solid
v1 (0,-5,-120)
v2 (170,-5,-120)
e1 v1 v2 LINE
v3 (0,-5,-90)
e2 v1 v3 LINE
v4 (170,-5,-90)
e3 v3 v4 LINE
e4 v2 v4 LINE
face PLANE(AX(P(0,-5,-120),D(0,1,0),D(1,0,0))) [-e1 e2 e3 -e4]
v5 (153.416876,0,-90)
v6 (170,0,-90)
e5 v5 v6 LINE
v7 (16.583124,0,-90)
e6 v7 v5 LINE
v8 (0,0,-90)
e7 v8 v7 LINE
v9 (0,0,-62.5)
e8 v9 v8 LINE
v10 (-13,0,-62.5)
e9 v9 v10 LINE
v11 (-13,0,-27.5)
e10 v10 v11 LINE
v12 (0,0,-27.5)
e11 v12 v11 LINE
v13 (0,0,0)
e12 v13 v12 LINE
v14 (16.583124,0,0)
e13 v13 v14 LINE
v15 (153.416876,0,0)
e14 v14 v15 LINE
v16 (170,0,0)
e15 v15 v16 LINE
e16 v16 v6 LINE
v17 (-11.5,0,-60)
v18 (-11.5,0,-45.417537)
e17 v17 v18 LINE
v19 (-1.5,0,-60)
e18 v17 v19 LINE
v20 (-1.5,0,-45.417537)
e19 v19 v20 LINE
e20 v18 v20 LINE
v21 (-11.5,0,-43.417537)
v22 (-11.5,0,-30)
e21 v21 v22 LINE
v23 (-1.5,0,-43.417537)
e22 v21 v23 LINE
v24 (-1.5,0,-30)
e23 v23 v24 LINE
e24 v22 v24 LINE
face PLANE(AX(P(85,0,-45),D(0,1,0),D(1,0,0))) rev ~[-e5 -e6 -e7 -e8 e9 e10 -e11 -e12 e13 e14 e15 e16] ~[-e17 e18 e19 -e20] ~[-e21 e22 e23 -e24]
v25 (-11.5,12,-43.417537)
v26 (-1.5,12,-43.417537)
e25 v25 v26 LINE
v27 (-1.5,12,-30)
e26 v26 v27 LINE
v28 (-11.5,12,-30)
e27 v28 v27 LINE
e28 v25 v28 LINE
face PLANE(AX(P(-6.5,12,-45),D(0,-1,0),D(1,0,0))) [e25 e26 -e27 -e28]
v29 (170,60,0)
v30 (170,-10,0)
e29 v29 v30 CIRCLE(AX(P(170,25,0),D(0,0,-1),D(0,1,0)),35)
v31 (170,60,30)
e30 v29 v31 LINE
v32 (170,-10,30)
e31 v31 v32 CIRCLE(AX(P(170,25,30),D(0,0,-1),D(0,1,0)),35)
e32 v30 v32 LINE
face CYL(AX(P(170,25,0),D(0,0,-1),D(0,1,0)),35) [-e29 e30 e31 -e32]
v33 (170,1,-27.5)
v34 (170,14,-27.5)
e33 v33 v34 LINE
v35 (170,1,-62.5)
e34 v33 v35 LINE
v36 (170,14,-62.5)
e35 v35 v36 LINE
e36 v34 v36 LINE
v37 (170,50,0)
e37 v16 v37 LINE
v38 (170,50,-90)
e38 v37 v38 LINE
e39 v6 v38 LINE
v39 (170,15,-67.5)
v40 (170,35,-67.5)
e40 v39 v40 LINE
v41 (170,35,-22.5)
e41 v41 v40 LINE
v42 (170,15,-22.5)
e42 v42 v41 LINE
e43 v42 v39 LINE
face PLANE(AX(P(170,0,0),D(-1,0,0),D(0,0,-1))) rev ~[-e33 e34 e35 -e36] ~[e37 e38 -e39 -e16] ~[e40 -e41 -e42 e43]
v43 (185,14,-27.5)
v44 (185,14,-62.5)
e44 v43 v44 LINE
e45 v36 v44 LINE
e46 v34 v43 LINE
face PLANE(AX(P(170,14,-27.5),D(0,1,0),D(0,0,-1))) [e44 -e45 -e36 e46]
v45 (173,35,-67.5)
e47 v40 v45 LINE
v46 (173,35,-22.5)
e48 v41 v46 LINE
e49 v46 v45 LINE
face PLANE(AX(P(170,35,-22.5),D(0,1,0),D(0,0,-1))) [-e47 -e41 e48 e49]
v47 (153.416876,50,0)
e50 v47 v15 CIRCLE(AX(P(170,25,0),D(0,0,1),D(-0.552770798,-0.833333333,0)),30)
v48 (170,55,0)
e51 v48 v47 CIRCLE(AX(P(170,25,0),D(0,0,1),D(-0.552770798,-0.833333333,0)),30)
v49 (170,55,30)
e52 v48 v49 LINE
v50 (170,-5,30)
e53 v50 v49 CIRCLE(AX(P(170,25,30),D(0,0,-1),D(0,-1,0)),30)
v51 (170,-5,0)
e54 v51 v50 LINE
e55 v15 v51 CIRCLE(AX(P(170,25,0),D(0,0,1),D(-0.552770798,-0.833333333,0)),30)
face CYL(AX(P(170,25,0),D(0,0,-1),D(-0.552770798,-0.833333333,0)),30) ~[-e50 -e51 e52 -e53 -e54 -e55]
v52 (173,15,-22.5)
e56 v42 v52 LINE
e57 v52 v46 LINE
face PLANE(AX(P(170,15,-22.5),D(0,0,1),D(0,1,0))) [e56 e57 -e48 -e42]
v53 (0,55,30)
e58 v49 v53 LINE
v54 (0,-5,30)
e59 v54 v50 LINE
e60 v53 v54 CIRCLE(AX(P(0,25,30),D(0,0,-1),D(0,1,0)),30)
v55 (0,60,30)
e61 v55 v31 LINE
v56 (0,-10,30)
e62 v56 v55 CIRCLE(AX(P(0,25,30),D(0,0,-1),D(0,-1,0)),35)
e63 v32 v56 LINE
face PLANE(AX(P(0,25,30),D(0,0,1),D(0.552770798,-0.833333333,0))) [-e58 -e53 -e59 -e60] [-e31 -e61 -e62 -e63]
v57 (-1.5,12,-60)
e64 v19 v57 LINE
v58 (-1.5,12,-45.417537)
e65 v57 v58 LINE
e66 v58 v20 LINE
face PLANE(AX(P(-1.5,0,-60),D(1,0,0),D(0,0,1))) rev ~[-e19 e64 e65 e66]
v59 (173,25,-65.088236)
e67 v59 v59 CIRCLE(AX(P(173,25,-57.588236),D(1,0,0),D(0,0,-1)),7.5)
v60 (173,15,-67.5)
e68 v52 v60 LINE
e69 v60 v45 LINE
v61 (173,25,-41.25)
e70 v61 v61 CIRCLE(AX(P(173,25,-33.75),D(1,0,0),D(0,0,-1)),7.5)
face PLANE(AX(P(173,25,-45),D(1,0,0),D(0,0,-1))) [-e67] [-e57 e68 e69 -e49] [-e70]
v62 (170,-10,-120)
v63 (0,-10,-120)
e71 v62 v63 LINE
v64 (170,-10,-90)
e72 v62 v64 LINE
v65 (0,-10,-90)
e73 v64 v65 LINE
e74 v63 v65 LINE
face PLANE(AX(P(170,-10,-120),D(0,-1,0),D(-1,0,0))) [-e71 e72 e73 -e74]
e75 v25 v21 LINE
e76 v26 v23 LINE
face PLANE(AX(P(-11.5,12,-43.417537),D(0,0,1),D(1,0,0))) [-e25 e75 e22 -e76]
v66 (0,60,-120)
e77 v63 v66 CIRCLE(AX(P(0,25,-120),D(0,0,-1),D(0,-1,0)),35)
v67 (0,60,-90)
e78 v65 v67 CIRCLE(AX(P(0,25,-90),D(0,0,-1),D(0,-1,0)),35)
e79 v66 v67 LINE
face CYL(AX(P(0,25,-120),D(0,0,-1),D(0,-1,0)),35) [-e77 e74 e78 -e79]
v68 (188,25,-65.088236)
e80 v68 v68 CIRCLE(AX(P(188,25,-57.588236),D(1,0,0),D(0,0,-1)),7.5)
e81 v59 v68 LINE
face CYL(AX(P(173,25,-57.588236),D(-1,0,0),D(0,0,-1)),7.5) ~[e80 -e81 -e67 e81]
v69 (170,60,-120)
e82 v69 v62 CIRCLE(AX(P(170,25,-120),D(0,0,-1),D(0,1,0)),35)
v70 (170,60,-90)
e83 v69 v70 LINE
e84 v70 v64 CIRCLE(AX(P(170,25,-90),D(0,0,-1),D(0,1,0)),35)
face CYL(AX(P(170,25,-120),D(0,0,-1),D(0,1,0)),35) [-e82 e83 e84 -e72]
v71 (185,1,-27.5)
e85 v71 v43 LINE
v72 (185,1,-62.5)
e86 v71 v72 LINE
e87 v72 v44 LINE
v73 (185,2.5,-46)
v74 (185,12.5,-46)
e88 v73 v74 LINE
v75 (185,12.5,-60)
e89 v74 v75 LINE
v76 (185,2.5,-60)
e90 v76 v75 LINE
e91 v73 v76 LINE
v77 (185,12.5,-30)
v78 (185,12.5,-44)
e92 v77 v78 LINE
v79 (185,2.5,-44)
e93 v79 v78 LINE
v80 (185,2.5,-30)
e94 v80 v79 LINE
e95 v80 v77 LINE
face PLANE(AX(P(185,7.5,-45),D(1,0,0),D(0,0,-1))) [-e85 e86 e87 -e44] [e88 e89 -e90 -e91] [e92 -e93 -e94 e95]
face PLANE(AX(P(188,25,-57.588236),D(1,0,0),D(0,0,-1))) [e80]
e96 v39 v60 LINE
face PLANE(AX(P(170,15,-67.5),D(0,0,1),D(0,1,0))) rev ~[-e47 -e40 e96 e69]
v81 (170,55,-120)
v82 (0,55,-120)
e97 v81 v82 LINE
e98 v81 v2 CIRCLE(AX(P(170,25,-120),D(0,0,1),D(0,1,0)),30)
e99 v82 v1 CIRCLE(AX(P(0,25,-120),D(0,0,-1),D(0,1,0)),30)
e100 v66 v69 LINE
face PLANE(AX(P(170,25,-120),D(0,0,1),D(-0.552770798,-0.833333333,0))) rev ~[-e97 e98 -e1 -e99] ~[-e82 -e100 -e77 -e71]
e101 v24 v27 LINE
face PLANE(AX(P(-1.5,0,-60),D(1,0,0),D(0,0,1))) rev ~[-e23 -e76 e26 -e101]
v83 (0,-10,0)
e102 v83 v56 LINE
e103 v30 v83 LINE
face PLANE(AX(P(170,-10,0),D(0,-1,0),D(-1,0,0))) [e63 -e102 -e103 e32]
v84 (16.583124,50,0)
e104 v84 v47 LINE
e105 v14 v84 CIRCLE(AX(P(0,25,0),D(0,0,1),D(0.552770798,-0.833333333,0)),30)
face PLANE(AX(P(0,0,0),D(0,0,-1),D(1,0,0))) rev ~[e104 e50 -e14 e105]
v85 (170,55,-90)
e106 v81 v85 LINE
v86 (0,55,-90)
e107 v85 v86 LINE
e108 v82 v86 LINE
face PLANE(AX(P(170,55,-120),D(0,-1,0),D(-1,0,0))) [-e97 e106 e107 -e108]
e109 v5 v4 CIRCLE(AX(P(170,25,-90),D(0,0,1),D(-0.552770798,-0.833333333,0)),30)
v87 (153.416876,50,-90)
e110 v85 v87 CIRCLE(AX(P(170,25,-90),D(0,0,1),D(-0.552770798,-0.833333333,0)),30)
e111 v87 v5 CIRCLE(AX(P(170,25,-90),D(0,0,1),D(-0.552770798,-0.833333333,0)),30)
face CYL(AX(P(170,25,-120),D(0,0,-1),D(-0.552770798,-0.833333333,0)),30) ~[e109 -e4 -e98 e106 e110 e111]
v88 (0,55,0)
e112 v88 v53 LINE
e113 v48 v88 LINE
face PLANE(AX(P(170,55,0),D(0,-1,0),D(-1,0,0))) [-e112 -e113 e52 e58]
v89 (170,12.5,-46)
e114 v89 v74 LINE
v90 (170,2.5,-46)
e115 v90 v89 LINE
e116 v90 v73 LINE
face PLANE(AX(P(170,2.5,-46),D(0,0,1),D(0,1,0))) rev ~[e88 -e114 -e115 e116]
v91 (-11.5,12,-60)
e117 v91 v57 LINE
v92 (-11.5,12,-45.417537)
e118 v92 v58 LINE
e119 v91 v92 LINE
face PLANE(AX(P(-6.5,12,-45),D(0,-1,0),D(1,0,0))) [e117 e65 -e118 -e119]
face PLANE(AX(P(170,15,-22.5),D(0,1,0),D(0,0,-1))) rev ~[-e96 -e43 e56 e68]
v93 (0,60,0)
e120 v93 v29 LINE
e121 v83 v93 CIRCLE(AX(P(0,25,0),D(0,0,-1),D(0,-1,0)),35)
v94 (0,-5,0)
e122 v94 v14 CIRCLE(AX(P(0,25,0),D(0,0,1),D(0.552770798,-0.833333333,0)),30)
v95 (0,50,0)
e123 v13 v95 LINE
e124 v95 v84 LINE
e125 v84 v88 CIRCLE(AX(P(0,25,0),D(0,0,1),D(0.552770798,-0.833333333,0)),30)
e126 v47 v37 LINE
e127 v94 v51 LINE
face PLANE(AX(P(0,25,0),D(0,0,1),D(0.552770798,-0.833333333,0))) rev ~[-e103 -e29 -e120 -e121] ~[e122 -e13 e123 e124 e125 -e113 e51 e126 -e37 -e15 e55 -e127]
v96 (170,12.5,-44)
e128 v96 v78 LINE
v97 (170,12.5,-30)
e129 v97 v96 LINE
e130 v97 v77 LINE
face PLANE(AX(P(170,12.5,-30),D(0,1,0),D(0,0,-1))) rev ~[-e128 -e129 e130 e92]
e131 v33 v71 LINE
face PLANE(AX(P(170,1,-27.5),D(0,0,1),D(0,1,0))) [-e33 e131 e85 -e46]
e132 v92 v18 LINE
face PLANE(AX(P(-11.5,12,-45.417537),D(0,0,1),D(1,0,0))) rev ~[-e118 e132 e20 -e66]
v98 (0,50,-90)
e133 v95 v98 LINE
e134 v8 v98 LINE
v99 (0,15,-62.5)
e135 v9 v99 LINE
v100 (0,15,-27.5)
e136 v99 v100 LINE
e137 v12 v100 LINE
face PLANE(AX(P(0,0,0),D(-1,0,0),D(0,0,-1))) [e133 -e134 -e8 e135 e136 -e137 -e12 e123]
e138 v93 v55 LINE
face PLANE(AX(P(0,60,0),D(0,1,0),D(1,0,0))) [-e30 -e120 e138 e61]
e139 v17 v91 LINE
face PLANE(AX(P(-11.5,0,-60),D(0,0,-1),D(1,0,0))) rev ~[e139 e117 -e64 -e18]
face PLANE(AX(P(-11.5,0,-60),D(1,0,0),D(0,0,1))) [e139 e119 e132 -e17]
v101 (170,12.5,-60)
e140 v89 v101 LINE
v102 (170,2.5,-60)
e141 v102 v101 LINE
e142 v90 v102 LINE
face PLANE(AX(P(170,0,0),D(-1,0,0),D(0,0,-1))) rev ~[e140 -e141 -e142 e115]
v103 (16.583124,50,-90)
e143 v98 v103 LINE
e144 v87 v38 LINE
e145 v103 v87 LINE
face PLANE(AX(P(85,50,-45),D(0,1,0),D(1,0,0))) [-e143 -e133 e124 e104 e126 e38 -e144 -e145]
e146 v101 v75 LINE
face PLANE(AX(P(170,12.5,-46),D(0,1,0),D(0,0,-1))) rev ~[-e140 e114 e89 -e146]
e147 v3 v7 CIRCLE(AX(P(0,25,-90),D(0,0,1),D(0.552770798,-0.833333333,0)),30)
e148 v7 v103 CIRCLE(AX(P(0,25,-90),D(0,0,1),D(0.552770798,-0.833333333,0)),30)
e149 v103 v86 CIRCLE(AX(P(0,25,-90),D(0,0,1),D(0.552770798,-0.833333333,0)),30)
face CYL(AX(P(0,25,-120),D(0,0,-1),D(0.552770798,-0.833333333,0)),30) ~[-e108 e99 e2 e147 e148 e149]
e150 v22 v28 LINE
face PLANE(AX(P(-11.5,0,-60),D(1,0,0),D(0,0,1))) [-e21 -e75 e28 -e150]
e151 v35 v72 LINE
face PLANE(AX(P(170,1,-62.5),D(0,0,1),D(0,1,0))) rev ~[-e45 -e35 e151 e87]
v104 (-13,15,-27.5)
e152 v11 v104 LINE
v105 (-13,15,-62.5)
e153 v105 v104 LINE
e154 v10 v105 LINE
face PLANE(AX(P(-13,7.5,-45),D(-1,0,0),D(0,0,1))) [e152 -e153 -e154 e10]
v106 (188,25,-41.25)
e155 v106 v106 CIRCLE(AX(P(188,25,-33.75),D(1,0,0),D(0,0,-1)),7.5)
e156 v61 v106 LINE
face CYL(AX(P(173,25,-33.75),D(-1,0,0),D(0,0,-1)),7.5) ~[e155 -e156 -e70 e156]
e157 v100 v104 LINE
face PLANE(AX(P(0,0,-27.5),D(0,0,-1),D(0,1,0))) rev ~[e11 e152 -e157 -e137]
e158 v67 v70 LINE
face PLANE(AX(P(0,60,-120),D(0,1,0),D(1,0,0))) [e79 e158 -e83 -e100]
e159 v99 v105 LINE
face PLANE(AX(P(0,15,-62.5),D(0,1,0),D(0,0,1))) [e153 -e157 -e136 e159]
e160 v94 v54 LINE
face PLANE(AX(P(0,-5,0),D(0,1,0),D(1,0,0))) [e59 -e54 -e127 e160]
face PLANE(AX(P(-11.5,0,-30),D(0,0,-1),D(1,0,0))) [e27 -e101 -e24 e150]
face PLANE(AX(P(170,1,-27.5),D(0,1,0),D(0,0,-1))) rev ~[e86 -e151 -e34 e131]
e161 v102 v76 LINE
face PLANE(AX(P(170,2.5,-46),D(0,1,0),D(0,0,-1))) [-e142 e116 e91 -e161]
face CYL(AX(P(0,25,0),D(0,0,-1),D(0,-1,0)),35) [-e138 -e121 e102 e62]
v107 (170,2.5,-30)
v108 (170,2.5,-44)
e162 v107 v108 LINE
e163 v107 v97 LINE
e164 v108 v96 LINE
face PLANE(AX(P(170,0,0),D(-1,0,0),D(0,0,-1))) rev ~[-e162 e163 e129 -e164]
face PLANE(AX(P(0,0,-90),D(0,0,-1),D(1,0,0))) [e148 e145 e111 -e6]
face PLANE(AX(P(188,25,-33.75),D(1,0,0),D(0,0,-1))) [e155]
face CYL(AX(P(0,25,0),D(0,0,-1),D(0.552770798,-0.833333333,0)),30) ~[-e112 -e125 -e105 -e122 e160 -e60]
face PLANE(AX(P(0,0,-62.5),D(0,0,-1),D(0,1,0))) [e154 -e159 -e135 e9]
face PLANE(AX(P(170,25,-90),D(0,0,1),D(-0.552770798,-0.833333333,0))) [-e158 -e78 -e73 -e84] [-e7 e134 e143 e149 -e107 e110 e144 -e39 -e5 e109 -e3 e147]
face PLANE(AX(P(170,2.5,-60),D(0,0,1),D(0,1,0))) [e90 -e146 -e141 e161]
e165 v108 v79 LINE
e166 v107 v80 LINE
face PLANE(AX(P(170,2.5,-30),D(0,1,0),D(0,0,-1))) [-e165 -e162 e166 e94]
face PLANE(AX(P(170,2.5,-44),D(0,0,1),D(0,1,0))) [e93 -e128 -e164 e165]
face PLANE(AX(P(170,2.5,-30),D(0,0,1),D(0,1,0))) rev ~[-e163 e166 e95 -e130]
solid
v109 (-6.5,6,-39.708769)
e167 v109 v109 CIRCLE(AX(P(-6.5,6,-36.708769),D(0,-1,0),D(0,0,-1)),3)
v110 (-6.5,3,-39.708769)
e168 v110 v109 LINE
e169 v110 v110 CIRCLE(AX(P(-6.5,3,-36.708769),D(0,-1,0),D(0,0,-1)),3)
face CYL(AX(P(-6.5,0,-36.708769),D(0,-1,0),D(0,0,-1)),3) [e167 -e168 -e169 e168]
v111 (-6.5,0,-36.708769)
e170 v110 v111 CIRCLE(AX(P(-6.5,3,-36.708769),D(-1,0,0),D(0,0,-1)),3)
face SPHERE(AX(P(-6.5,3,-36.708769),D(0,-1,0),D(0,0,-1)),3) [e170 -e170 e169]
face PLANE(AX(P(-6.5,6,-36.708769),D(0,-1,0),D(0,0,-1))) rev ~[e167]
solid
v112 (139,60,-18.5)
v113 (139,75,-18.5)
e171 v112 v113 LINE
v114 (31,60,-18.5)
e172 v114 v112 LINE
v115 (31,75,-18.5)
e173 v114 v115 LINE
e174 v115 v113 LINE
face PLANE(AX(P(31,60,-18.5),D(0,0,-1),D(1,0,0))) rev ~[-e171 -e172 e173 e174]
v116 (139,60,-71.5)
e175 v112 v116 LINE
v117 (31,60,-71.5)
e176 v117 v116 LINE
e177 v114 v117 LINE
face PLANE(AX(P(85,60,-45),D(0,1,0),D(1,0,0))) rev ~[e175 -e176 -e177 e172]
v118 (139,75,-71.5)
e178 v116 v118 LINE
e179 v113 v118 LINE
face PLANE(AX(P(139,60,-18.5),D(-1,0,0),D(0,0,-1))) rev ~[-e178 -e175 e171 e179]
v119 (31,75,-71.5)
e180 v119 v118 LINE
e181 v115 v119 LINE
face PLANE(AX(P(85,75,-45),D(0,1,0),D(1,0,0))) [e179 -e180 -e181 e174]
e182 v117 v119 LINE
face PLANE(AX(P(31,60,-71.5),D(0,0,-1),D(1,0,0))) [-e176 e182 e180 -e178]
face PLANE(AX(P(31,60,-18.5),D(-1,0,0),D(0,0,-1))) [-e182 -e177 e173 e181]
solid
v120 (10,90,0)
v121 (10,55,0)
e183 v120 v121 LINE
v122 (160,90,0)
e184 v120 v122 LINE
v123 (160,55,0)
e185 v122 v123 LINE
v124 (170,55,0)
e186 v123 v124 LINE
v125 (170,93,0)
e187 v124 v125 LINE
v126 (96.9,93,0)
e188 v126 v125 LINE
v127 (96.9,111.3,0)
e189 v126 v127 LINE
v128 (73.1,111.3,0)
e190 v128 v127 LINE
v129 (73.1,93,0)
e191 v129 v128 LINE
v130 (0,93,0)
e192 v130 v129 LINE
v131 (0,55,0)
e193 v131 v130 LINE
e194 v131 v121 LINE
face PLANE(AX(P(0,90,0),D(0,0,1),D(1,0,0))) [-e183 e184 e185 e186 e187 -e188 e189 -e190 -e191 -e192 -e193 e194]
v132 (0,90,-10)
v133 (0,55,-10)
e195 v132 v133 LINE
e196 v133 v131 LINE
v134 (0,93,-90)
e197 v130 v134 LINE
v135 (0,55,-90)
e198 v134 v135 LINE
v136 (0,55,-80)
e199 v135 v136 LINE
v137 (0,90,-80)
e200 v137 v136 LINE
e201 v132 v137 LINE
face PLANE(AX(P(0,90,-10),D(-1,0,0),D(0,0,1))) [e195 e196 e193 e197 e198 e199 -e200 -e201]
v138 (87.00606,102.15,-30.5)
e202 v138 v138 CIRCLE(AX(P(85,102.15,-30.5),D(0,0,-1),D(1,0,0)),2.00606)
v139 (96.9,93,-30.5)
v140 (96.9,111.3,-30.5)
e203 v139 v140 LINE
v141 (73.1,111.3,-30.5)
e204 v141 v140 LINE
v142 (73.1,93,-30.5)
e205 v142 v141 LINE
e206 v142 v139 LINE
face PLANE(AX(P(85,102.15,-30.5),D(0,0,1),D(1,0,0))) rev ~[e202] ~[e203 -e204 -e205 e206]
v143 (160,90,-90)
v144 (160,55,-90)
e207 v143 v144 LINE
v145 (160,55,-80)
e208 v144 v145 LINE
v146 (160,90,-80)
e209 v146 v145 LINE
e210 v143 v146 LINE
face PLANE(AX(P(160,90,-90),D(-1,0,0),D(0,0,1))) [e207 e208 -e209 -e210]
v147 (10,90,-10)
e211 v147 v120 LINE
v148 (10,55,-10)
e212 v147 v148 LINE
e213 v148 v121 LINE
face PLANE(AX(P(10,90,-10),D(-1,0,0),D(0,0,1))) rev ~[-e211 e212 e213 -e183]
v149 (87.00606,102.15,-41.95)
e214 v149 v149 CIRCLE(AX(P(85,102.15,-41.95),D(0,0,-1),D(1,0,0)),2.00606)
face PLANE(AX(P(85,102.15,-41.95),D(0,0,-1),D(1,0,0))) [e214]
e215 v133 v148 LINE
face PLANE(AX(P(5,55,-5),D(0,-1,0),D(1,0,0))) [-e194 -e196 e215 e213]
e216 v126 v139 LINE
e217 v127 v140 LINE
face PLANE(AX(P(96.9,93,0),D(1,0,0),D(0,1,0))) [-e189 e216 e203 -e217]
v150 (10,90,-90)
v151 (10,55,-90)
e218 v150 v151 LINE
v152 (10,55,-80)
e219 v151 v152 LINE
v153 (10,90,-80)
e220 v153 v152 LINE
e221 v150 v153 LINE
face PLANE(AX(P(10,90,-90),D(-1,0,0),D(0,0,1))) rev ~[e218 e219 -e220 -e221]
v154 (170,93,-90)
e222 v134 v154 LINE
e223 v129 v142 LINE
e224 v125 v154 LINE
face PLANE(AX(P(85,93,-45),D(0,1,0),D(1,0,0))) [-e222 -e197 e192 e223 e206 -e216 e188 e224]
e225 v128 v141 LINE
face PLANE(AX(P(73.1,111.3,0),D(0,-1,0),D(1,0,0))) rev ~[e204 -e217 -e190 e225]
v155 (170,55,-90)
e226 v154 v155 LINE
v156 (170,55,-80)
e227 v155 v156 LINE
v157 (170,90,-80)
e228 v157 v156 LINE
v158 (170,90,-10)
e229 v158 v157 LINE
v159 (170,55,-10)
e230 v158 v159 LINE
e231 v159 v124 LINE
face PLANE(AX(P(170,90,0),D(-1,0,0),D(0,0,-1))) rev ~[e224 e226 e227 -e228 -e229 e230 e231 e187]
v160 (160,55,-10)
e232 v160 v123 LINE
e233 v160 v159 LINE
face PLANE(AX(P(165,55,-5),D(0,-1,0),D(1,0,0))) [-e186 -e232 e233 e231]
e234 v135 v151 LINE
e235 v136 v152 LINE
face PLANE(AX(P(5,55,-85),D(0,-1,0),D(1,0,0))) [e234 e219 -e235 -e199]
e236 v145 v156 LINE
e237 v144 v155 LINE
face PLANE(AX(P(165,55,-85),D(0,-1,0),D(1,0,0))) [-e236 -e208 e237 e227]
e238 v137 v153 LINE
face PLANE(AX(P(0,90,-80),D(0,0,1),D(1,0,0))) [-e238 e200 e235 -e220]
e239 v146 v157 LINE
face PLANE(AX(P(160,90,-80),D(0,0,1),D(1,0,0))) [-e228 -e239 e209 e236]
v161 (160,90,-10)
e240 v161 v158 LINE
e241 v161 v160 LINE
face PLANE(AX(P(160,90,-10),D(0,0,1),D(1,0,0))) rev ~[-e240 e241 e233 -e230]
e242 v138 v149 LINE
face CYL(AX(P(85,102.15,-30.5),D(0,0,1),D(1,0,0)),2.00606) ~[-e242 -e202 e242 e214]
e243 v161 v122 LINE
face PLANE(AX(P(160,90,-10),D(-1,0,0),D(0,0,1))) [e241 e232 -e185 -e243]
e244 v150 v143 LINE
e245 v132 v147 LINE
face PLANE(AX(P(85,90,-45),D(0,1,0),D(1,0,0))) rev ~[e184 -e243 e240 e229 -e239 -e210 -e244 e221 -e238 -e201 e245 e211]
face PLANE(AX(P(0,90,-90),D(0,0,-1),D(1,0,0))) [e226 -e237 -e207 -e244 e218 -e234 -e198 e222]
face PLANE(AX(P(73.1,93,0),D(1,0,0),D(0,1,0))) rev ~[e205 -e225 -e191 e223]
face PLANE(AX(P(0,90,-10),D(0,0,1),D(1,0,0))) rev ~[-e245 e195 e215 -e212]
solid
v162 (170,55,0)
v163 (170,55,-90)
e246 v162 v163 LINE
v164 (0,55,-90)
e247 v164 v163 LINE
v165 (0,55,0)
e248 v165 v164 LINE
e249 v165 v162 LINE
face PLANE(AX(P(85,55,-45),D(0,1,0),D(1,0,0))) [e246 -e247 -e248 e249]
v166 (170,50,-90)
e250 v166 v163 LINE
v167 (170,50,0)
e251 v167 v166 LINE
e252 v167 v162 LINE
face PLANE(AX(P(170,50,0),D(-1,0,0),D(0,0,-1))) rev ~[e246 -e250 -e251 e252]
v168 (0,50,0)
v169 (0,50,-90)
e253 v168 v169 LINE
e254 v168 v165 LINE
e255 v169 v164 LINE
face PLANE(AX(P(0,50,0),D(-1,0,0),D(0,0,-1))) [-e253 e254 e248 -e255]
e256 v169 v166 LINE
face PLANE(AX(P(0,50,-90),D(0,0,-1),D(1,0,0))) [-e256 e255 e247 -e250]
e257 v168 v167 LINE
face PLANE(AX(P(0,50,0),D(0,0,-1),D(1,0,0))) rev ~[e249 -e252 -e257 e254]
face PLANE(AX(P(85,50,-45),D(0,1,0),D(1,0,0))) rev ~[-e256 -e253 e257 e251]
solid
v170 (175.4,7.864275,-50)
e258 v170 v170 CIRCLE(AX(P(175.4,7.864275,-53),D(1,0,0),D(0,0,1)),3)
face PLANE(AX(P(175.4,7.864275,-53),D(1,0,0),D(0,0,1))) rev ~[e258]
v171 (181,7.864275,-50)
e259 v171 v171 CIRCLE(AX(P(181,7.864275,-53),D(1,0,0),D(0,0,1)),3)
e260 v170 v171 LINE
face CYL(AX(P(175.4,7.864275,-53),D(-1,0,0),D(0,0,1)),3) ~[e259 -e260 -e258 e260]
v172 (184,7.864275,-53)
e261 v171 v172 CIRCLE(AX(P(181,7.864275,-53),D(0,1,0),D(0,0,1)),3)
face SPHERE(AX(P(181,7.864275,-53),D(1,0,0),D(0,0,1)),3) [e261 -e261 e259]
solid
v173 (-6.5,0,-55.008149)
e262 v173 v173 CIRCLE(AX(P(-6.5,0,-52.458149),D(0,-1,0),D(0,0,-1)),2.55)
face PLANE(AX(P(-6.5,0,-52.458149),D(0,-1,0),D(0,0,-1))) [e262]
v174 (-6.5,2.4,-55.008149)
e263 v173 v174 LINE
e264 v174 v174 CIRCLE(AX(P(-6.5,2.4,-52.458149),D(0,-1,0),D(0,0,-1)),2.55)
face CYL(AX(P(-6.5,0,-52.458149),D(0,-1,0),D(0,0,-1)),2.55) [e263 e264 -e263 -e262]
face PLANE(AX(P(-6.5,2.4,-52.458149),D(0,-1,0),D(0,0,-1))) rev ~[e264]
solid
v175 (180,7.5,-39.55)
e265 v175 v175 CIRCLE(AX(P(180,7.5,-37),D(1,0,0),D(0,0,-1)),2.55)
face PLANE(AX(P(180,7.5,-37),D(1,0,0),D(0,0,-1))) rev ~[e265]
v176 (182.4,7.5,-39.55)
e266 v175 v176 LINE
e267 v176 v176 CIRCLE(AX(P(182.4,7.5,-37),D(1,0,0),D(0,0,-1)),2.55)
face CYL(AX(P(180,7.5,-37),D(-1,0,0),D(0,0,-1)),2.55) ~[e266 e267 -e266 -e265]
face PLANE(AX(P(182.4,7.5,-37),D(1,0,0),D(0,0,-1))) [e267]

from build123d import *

# Parameters (mm, degrees)
SKETCH1_W            = 170
SKETCH1_H            = 90
BOSS_EXTRUDE1_DEPTH  = 50
SKETCH2_R            = 30
BOSS_EXTRUDE2_DEPTH  = 30
LPATTERN1_COUNT      = 2
LPATTERN1_PITCH      = 120
BOSS_EXTRUDE3_START  = -30
BOSS_EXTRUDE3_DEPTH  = 30
LPATTERN2_COUNT      = 2
LPATTERN2_PITCH      = 120
SKETCH4_W            = 170
SKETCH4_H            = 90
BOSS_EXTRUDE6_DEPTH  = 5
SKETCH6_W            = 108
SKETCH6_H            = 53
BOSS_EXTRUDE7_DEPTH  = 15
SKETCH7_W            = 170
SKETCH7_H            = 90
BOSS_EXTRUDE8_DEPTH  = 3
SKETCH8_W            = 23.8
SKETCH8_H            = 18.3
BOSS_EXTRUDE9_DEPTH  = 30.5
SKETCH9_R            = 2.00605959
BOSS_EXTRUDE10_DEPTH = 11.45
SKETCH10_W           = 45
SKETCH10_H           = 20
BOSS_EXTRUDE11_DEPTH = 3
SKETCH11_R           = 7.5
BOSS_EXTRUDE12_DEPTH = 15
SKETCH12_W           = 35
SKETCH12_H           = 13
SKETCH12_W_2         = 14
SKETCH12_H_2         = 10
BOSS_EXTRUDE13_DEPTH = 15
SKETCH13_R           = 2.55
BOSS_EXTRUDE14_DEPTH = 2.4
SKETCH14_R           = 3
BOSS_EXTRUDE15_DEPTH = 8.6
FILLET1_R            = 3
SKETCH15_W           = 35
SKETCH15_H           = 15
BOSS_EXTRUDE16_DEPTH = 13
SKETCH17_W           = 10
SKETCH17_H           = 30
CUT_EXTRUDE1_DEPTH   = 12
SKETCH18_W           = 10
SKETCH18_H           = 2
BOSS_EXTRUDE17_DEPTH = 12
SKETCH20_W           = 10
SKETCH20_H           = 10
BOSS_EXTRUDE20_DEPTH = 35
SKETCH21_R           = 2.55
BOSS_EXTRUDE21_DEPTH = 2.4
SKETCH24_R           = 3
BOSS_EXTRUDE22_DEPTH = 6
FILLET2_R            = 3


with BuildPart() as part:
    # Sketch1 → Boss-Extrude1 (new body)
    with BuildSketch(Plane(origin=(0, 0, 0), x_dir=(1, 0, 0), z_dir=(0, 1, 0))):
        with Locations((85, 45)):
            Rectangle(SKETCH1_W, SKETCH1_H)
    extrude(amount=BOSS_EXTRUDE1_DEPTH)

    # Sketch2 → Boss-Extrude2 (add)
    with BuildSketch(Plane.XY):
        with Locations(Location((170, 25, 0), (0, 0, 236.442690238))):
            Circle(SKETCH2_R)
        with Locations(Location((0, 25, 0), (0, 0, 303.557309762))):
            Circle(SKETCH2_R)
    boss_extrude2 = extrude(amount=BOSS_EXTRUDE2_DEPTH)

    # LPattern1: Boss-Extrude2 ×2
    with Locations(*[(0, 0, -i * LPATTERN1_PITCH) for i in range(1, LPATTERN1_COUNT)]):
        add(boss_extrude2)

    # Sketch3 → Boss-Extrude3 (add)
    with BuildSketch(Plane.XY.offset(30).offset(BOSS_EXTRUDE3_START)):
        with BuildLine():
            Line((0, 60), (170, 60))
            ThreePointArc((170, 60), (205, 25), (170, -10))
            Line((170, -10), (0, -10))
            ThreePointArc((0, -10), (-35, 25), (0, 60))
        make_face()
        with BuildLine():
            Line((170, 55), (0, 55))
            ThreePointArc((0, 55), (-30, 25), (0, -5))
            Line((0, -5), (170, -5))
            ThreePointArc((170, -5), (200, 25), (170, 55))
        make_face(mode=Mode.SUBTRACT)
    boss_extrude3 = extrude(amount=BOSS_EXTRUDE3_DEPTH)

    # LPattern2: Boss-Extrude3 ×2
    with Locations(*[(0, 0, -i * LPATTERN2_PITCH) for i in range(1, LPATTERN2_COUNT)]):
        add(boss_extrude3)

    # Sketch10 → Boss-Extrude11 (add)
    with BuildSketch(Plane(origin=(170, 0, 0), x_dir=(0, 0, -1), z_dir=(1, 0, 0))):
        with Locations((45, 25)):
            Rectangle(SKETCH10_W, SKETCH10_H)
    extrude(amount=BOSS_EXTRUDE11_DEPTH)

    # Sketch11 → Boss-Extrude12 (add)
    with BuildSketch(Plane(origin=(173, 0, 0), x_dir=(0, 0, -1), z_dir=(1, 0, 0))):
        with Locations((57.588236396, 25)):
            Circle(SKETCH11_R)
        with Locations((33.75, 25)):
            Circle(SKETCH11_R)
    extrude(amount=BOSS_EXTRUDE12_DEPTH)

    # Sketch12 → Boss-Extrude13 (add)
    with BuildSketch(Plane(origin=(170, 0, 0), x_dir=(0, 0, -1), z_dir=(1, 0, 0))):
        with Locations((45, 7.5)):
            Rectangle(SKETCH12_W, SKETCH12_H)
        with Locations((37, 7.5)):
            Rectangle(SKETCH12_W_2, SKETCH12_H_2, mode=Mode.SUBTRACT)
        with Locations((53, 7.5)):
            Rectangle(SKETCH12_W_2, SKETCH12_H_2, mode=Mode.SUBTRACT)
    extrude(amount=BOSS_EXTRUDE13_DEPTH)

    # Sketch15 → Boss-Extrude16 (add)
    with BuildSketch(Plane.ZY):
        with Locations((-45, 7.5)):
            Rectangle(SKETCH15_W, SKETCH15_H)
    extrude(amount=BOSS_EXTRUDE16_DEPTH)

    # Sketch17 → Cut-Extrude1 (cut)
    with BuildSketch(Plane.XZ):
        with Locations((-6.5, -45)):
            Rectangle(SKETCH17_W, SKETCH17_H)
    extrude(amount=-CUT_EXTRUDE1_DEPTH, mode=Mode.SUBTRACT)

    # Sketch18 → Boss-Extrude17 (add)
    with BuildSketch(Plane.XZ.offset(-12)):
        with Locations((-6.5, -44.41753742)):
            Rectangle(SKETCH18_W, SKETCH18_H)
    extrude(amount=BOSS_EXTRUDE17_DEPTH)


with BuildPart() as body_2:
    # Sketch4 → Boss-Extrude6 (new body)
    with BuildSketch(Plane(origin=(0, 50, 0), x_dir=(1, 0, 0), z_dir=(0, 1, 0))):
        with Locations((85, 45)):
            Rectangle(SKETCH4_W, SKETCH4_H)
    extrude(amount=BOSS_EXTRUDE6_DEPTH)


with BuildPart() as body_3:
    # Sketch6 → Boss-Extrude7 (new body)
    with BuildSketch(Plane(origin=(0, 60, 0), x_dir=(1, 0, 0), z_dir=(0, 1, 0))):
        with Locations((85, 45)):
            Rectangle(SKETCH6_W, SKETCH6_H)
    extrude(amount=BOSS_EXTRUDE7_DEPTH)


with BuildPart() as body_4:
    # Sketch7 → Boss-Extrude8 (new body)
    with BuildSketch(Plane(origin=(0, 90, 0), x_dir=(1, 0, 0), z_dir=(0, 1, 0))):
        with Locations((85, 45)):
            Rectangle(SKETCH7_W, SKETCH7_H)
    extrude(amount=BOSS_EXTRUDE8_DEPTH)

    # Sketch8 → Boss-Extrude9 (add)
    with BuildSketch(Plane.XY):
        with Locations((85, 102.15)):
            Rectangle(SKETCH8_W, SKETCH8_H)
    extrude(amount=-BOSS_EXTRUDE9_DEPTH)

    # Sketch9 → Boss-Extrude10 (add)
    with BuildSketch(Plane(origin=(0, 0, -30.5), x_dir=(-1, 0, 0), z_dir=(0, 0, -1))):
        with Locations(Location((-85, 102.15, 0), (0, 0, 180))):
            Circle(SKETCH9_R)
    extrude(amount=BOSS_EXTRUDE10_DEPTH)

    # Sketch20 → Boss-Extrude20 (add)
    with BuildSketch(Plane.XZ.offset(-90)):
        with Locations((5, -5)):
            Rectangle(SKETCH20_W, SKETCH20_H)
        with Locations((165, -5)):
            Rectangle(SKETCH20_W, SKETCH20_H)
        with Locations((165, -85)):
            Rectangle(SKETCH20_W, SKETCH20_H)
        with Locations((5, -85)):
            Rectangle(SKETCH20_W, SKETCH20_H)
    extrude(amount=BOSS_EXTRUDE20_DEPTH)


with BuildPart() as body_5:
    # Sketch13 → Boss-Extrude14 (new body)
    with BuildSketch(Plane(origin=(180, 0, 0), x_dir=(0, 0, -1), z_dir=(1, 0, 0))):
        with Locations((37, 7.5)):
            Circle(SKETCH13_R)
    extrude(amount=BOSS_EXTRUDE14_DEPTH)


with BuildPart() as body_6:
    # Sketch14 → Boss-Extrude15 (new body)
    with BuildSketch(Plane(origin=(175.4, 0, 0), x_dir=(0, 0, -1), z_dir=(1, 0, 0))):
        with Locations(Location((53, 7.864274774, 0), (0, 0, 180))):
            Circle(SKETCH14_R)
    extrude(amount=BOSS_EXTRUDE15_DEPTH)

    # Fillet1
    fillet1_edges = [body_6.edges().sort_by_distance(p)[0] for p in [
        (184, 7.864274774, -56),
    ]]
    fillet(fillet1_edges, radius=FILLET1_R)


with BuildPart() as body_7:
    # Sketch21 → Boss-Extrude21 (new body)
    with BuildSketch(Plane(origin=(0, 0, 0), x_dir=(-1, 0, 0), z_dir=(0, -1, 0))):
        with Locations(Location((6.5, 52.458149235, 0), (0, 0, 90))):
            Circle(SKETCH21_R)
    extrude(amount=-BOSS_EXTRUDE21_DEPTH)


with BuildPart() as body_8:
    # Sketch24 → Boss-Extrude22 (new body)
    with BuildSketch(Plane(origin=(0, 0, 0), x_dir=(-1, 0, 0), z_dir=(0, -1, 0))):
        with Locations(Location((6.5, 36.70876871, 0), (0, 0, 90))):
            Circle(SKETCH24_R)
    extrude(amount=-BOSS_EXTRUDE22_DEPTH)

    # Fillet2
    fillet2_edges = [body_8.edges().sort_by_distance(p)[0] for p in [
        (-6.5, 0, -33.70876871),
    ]]
    fillet(fillet2_edges, radius=FILLET2_R)


solid = Compound([part.part, body_2.part, body_3.part, body_4.part, body_5.part, body_6.part, body_7.part, body_8.part])
